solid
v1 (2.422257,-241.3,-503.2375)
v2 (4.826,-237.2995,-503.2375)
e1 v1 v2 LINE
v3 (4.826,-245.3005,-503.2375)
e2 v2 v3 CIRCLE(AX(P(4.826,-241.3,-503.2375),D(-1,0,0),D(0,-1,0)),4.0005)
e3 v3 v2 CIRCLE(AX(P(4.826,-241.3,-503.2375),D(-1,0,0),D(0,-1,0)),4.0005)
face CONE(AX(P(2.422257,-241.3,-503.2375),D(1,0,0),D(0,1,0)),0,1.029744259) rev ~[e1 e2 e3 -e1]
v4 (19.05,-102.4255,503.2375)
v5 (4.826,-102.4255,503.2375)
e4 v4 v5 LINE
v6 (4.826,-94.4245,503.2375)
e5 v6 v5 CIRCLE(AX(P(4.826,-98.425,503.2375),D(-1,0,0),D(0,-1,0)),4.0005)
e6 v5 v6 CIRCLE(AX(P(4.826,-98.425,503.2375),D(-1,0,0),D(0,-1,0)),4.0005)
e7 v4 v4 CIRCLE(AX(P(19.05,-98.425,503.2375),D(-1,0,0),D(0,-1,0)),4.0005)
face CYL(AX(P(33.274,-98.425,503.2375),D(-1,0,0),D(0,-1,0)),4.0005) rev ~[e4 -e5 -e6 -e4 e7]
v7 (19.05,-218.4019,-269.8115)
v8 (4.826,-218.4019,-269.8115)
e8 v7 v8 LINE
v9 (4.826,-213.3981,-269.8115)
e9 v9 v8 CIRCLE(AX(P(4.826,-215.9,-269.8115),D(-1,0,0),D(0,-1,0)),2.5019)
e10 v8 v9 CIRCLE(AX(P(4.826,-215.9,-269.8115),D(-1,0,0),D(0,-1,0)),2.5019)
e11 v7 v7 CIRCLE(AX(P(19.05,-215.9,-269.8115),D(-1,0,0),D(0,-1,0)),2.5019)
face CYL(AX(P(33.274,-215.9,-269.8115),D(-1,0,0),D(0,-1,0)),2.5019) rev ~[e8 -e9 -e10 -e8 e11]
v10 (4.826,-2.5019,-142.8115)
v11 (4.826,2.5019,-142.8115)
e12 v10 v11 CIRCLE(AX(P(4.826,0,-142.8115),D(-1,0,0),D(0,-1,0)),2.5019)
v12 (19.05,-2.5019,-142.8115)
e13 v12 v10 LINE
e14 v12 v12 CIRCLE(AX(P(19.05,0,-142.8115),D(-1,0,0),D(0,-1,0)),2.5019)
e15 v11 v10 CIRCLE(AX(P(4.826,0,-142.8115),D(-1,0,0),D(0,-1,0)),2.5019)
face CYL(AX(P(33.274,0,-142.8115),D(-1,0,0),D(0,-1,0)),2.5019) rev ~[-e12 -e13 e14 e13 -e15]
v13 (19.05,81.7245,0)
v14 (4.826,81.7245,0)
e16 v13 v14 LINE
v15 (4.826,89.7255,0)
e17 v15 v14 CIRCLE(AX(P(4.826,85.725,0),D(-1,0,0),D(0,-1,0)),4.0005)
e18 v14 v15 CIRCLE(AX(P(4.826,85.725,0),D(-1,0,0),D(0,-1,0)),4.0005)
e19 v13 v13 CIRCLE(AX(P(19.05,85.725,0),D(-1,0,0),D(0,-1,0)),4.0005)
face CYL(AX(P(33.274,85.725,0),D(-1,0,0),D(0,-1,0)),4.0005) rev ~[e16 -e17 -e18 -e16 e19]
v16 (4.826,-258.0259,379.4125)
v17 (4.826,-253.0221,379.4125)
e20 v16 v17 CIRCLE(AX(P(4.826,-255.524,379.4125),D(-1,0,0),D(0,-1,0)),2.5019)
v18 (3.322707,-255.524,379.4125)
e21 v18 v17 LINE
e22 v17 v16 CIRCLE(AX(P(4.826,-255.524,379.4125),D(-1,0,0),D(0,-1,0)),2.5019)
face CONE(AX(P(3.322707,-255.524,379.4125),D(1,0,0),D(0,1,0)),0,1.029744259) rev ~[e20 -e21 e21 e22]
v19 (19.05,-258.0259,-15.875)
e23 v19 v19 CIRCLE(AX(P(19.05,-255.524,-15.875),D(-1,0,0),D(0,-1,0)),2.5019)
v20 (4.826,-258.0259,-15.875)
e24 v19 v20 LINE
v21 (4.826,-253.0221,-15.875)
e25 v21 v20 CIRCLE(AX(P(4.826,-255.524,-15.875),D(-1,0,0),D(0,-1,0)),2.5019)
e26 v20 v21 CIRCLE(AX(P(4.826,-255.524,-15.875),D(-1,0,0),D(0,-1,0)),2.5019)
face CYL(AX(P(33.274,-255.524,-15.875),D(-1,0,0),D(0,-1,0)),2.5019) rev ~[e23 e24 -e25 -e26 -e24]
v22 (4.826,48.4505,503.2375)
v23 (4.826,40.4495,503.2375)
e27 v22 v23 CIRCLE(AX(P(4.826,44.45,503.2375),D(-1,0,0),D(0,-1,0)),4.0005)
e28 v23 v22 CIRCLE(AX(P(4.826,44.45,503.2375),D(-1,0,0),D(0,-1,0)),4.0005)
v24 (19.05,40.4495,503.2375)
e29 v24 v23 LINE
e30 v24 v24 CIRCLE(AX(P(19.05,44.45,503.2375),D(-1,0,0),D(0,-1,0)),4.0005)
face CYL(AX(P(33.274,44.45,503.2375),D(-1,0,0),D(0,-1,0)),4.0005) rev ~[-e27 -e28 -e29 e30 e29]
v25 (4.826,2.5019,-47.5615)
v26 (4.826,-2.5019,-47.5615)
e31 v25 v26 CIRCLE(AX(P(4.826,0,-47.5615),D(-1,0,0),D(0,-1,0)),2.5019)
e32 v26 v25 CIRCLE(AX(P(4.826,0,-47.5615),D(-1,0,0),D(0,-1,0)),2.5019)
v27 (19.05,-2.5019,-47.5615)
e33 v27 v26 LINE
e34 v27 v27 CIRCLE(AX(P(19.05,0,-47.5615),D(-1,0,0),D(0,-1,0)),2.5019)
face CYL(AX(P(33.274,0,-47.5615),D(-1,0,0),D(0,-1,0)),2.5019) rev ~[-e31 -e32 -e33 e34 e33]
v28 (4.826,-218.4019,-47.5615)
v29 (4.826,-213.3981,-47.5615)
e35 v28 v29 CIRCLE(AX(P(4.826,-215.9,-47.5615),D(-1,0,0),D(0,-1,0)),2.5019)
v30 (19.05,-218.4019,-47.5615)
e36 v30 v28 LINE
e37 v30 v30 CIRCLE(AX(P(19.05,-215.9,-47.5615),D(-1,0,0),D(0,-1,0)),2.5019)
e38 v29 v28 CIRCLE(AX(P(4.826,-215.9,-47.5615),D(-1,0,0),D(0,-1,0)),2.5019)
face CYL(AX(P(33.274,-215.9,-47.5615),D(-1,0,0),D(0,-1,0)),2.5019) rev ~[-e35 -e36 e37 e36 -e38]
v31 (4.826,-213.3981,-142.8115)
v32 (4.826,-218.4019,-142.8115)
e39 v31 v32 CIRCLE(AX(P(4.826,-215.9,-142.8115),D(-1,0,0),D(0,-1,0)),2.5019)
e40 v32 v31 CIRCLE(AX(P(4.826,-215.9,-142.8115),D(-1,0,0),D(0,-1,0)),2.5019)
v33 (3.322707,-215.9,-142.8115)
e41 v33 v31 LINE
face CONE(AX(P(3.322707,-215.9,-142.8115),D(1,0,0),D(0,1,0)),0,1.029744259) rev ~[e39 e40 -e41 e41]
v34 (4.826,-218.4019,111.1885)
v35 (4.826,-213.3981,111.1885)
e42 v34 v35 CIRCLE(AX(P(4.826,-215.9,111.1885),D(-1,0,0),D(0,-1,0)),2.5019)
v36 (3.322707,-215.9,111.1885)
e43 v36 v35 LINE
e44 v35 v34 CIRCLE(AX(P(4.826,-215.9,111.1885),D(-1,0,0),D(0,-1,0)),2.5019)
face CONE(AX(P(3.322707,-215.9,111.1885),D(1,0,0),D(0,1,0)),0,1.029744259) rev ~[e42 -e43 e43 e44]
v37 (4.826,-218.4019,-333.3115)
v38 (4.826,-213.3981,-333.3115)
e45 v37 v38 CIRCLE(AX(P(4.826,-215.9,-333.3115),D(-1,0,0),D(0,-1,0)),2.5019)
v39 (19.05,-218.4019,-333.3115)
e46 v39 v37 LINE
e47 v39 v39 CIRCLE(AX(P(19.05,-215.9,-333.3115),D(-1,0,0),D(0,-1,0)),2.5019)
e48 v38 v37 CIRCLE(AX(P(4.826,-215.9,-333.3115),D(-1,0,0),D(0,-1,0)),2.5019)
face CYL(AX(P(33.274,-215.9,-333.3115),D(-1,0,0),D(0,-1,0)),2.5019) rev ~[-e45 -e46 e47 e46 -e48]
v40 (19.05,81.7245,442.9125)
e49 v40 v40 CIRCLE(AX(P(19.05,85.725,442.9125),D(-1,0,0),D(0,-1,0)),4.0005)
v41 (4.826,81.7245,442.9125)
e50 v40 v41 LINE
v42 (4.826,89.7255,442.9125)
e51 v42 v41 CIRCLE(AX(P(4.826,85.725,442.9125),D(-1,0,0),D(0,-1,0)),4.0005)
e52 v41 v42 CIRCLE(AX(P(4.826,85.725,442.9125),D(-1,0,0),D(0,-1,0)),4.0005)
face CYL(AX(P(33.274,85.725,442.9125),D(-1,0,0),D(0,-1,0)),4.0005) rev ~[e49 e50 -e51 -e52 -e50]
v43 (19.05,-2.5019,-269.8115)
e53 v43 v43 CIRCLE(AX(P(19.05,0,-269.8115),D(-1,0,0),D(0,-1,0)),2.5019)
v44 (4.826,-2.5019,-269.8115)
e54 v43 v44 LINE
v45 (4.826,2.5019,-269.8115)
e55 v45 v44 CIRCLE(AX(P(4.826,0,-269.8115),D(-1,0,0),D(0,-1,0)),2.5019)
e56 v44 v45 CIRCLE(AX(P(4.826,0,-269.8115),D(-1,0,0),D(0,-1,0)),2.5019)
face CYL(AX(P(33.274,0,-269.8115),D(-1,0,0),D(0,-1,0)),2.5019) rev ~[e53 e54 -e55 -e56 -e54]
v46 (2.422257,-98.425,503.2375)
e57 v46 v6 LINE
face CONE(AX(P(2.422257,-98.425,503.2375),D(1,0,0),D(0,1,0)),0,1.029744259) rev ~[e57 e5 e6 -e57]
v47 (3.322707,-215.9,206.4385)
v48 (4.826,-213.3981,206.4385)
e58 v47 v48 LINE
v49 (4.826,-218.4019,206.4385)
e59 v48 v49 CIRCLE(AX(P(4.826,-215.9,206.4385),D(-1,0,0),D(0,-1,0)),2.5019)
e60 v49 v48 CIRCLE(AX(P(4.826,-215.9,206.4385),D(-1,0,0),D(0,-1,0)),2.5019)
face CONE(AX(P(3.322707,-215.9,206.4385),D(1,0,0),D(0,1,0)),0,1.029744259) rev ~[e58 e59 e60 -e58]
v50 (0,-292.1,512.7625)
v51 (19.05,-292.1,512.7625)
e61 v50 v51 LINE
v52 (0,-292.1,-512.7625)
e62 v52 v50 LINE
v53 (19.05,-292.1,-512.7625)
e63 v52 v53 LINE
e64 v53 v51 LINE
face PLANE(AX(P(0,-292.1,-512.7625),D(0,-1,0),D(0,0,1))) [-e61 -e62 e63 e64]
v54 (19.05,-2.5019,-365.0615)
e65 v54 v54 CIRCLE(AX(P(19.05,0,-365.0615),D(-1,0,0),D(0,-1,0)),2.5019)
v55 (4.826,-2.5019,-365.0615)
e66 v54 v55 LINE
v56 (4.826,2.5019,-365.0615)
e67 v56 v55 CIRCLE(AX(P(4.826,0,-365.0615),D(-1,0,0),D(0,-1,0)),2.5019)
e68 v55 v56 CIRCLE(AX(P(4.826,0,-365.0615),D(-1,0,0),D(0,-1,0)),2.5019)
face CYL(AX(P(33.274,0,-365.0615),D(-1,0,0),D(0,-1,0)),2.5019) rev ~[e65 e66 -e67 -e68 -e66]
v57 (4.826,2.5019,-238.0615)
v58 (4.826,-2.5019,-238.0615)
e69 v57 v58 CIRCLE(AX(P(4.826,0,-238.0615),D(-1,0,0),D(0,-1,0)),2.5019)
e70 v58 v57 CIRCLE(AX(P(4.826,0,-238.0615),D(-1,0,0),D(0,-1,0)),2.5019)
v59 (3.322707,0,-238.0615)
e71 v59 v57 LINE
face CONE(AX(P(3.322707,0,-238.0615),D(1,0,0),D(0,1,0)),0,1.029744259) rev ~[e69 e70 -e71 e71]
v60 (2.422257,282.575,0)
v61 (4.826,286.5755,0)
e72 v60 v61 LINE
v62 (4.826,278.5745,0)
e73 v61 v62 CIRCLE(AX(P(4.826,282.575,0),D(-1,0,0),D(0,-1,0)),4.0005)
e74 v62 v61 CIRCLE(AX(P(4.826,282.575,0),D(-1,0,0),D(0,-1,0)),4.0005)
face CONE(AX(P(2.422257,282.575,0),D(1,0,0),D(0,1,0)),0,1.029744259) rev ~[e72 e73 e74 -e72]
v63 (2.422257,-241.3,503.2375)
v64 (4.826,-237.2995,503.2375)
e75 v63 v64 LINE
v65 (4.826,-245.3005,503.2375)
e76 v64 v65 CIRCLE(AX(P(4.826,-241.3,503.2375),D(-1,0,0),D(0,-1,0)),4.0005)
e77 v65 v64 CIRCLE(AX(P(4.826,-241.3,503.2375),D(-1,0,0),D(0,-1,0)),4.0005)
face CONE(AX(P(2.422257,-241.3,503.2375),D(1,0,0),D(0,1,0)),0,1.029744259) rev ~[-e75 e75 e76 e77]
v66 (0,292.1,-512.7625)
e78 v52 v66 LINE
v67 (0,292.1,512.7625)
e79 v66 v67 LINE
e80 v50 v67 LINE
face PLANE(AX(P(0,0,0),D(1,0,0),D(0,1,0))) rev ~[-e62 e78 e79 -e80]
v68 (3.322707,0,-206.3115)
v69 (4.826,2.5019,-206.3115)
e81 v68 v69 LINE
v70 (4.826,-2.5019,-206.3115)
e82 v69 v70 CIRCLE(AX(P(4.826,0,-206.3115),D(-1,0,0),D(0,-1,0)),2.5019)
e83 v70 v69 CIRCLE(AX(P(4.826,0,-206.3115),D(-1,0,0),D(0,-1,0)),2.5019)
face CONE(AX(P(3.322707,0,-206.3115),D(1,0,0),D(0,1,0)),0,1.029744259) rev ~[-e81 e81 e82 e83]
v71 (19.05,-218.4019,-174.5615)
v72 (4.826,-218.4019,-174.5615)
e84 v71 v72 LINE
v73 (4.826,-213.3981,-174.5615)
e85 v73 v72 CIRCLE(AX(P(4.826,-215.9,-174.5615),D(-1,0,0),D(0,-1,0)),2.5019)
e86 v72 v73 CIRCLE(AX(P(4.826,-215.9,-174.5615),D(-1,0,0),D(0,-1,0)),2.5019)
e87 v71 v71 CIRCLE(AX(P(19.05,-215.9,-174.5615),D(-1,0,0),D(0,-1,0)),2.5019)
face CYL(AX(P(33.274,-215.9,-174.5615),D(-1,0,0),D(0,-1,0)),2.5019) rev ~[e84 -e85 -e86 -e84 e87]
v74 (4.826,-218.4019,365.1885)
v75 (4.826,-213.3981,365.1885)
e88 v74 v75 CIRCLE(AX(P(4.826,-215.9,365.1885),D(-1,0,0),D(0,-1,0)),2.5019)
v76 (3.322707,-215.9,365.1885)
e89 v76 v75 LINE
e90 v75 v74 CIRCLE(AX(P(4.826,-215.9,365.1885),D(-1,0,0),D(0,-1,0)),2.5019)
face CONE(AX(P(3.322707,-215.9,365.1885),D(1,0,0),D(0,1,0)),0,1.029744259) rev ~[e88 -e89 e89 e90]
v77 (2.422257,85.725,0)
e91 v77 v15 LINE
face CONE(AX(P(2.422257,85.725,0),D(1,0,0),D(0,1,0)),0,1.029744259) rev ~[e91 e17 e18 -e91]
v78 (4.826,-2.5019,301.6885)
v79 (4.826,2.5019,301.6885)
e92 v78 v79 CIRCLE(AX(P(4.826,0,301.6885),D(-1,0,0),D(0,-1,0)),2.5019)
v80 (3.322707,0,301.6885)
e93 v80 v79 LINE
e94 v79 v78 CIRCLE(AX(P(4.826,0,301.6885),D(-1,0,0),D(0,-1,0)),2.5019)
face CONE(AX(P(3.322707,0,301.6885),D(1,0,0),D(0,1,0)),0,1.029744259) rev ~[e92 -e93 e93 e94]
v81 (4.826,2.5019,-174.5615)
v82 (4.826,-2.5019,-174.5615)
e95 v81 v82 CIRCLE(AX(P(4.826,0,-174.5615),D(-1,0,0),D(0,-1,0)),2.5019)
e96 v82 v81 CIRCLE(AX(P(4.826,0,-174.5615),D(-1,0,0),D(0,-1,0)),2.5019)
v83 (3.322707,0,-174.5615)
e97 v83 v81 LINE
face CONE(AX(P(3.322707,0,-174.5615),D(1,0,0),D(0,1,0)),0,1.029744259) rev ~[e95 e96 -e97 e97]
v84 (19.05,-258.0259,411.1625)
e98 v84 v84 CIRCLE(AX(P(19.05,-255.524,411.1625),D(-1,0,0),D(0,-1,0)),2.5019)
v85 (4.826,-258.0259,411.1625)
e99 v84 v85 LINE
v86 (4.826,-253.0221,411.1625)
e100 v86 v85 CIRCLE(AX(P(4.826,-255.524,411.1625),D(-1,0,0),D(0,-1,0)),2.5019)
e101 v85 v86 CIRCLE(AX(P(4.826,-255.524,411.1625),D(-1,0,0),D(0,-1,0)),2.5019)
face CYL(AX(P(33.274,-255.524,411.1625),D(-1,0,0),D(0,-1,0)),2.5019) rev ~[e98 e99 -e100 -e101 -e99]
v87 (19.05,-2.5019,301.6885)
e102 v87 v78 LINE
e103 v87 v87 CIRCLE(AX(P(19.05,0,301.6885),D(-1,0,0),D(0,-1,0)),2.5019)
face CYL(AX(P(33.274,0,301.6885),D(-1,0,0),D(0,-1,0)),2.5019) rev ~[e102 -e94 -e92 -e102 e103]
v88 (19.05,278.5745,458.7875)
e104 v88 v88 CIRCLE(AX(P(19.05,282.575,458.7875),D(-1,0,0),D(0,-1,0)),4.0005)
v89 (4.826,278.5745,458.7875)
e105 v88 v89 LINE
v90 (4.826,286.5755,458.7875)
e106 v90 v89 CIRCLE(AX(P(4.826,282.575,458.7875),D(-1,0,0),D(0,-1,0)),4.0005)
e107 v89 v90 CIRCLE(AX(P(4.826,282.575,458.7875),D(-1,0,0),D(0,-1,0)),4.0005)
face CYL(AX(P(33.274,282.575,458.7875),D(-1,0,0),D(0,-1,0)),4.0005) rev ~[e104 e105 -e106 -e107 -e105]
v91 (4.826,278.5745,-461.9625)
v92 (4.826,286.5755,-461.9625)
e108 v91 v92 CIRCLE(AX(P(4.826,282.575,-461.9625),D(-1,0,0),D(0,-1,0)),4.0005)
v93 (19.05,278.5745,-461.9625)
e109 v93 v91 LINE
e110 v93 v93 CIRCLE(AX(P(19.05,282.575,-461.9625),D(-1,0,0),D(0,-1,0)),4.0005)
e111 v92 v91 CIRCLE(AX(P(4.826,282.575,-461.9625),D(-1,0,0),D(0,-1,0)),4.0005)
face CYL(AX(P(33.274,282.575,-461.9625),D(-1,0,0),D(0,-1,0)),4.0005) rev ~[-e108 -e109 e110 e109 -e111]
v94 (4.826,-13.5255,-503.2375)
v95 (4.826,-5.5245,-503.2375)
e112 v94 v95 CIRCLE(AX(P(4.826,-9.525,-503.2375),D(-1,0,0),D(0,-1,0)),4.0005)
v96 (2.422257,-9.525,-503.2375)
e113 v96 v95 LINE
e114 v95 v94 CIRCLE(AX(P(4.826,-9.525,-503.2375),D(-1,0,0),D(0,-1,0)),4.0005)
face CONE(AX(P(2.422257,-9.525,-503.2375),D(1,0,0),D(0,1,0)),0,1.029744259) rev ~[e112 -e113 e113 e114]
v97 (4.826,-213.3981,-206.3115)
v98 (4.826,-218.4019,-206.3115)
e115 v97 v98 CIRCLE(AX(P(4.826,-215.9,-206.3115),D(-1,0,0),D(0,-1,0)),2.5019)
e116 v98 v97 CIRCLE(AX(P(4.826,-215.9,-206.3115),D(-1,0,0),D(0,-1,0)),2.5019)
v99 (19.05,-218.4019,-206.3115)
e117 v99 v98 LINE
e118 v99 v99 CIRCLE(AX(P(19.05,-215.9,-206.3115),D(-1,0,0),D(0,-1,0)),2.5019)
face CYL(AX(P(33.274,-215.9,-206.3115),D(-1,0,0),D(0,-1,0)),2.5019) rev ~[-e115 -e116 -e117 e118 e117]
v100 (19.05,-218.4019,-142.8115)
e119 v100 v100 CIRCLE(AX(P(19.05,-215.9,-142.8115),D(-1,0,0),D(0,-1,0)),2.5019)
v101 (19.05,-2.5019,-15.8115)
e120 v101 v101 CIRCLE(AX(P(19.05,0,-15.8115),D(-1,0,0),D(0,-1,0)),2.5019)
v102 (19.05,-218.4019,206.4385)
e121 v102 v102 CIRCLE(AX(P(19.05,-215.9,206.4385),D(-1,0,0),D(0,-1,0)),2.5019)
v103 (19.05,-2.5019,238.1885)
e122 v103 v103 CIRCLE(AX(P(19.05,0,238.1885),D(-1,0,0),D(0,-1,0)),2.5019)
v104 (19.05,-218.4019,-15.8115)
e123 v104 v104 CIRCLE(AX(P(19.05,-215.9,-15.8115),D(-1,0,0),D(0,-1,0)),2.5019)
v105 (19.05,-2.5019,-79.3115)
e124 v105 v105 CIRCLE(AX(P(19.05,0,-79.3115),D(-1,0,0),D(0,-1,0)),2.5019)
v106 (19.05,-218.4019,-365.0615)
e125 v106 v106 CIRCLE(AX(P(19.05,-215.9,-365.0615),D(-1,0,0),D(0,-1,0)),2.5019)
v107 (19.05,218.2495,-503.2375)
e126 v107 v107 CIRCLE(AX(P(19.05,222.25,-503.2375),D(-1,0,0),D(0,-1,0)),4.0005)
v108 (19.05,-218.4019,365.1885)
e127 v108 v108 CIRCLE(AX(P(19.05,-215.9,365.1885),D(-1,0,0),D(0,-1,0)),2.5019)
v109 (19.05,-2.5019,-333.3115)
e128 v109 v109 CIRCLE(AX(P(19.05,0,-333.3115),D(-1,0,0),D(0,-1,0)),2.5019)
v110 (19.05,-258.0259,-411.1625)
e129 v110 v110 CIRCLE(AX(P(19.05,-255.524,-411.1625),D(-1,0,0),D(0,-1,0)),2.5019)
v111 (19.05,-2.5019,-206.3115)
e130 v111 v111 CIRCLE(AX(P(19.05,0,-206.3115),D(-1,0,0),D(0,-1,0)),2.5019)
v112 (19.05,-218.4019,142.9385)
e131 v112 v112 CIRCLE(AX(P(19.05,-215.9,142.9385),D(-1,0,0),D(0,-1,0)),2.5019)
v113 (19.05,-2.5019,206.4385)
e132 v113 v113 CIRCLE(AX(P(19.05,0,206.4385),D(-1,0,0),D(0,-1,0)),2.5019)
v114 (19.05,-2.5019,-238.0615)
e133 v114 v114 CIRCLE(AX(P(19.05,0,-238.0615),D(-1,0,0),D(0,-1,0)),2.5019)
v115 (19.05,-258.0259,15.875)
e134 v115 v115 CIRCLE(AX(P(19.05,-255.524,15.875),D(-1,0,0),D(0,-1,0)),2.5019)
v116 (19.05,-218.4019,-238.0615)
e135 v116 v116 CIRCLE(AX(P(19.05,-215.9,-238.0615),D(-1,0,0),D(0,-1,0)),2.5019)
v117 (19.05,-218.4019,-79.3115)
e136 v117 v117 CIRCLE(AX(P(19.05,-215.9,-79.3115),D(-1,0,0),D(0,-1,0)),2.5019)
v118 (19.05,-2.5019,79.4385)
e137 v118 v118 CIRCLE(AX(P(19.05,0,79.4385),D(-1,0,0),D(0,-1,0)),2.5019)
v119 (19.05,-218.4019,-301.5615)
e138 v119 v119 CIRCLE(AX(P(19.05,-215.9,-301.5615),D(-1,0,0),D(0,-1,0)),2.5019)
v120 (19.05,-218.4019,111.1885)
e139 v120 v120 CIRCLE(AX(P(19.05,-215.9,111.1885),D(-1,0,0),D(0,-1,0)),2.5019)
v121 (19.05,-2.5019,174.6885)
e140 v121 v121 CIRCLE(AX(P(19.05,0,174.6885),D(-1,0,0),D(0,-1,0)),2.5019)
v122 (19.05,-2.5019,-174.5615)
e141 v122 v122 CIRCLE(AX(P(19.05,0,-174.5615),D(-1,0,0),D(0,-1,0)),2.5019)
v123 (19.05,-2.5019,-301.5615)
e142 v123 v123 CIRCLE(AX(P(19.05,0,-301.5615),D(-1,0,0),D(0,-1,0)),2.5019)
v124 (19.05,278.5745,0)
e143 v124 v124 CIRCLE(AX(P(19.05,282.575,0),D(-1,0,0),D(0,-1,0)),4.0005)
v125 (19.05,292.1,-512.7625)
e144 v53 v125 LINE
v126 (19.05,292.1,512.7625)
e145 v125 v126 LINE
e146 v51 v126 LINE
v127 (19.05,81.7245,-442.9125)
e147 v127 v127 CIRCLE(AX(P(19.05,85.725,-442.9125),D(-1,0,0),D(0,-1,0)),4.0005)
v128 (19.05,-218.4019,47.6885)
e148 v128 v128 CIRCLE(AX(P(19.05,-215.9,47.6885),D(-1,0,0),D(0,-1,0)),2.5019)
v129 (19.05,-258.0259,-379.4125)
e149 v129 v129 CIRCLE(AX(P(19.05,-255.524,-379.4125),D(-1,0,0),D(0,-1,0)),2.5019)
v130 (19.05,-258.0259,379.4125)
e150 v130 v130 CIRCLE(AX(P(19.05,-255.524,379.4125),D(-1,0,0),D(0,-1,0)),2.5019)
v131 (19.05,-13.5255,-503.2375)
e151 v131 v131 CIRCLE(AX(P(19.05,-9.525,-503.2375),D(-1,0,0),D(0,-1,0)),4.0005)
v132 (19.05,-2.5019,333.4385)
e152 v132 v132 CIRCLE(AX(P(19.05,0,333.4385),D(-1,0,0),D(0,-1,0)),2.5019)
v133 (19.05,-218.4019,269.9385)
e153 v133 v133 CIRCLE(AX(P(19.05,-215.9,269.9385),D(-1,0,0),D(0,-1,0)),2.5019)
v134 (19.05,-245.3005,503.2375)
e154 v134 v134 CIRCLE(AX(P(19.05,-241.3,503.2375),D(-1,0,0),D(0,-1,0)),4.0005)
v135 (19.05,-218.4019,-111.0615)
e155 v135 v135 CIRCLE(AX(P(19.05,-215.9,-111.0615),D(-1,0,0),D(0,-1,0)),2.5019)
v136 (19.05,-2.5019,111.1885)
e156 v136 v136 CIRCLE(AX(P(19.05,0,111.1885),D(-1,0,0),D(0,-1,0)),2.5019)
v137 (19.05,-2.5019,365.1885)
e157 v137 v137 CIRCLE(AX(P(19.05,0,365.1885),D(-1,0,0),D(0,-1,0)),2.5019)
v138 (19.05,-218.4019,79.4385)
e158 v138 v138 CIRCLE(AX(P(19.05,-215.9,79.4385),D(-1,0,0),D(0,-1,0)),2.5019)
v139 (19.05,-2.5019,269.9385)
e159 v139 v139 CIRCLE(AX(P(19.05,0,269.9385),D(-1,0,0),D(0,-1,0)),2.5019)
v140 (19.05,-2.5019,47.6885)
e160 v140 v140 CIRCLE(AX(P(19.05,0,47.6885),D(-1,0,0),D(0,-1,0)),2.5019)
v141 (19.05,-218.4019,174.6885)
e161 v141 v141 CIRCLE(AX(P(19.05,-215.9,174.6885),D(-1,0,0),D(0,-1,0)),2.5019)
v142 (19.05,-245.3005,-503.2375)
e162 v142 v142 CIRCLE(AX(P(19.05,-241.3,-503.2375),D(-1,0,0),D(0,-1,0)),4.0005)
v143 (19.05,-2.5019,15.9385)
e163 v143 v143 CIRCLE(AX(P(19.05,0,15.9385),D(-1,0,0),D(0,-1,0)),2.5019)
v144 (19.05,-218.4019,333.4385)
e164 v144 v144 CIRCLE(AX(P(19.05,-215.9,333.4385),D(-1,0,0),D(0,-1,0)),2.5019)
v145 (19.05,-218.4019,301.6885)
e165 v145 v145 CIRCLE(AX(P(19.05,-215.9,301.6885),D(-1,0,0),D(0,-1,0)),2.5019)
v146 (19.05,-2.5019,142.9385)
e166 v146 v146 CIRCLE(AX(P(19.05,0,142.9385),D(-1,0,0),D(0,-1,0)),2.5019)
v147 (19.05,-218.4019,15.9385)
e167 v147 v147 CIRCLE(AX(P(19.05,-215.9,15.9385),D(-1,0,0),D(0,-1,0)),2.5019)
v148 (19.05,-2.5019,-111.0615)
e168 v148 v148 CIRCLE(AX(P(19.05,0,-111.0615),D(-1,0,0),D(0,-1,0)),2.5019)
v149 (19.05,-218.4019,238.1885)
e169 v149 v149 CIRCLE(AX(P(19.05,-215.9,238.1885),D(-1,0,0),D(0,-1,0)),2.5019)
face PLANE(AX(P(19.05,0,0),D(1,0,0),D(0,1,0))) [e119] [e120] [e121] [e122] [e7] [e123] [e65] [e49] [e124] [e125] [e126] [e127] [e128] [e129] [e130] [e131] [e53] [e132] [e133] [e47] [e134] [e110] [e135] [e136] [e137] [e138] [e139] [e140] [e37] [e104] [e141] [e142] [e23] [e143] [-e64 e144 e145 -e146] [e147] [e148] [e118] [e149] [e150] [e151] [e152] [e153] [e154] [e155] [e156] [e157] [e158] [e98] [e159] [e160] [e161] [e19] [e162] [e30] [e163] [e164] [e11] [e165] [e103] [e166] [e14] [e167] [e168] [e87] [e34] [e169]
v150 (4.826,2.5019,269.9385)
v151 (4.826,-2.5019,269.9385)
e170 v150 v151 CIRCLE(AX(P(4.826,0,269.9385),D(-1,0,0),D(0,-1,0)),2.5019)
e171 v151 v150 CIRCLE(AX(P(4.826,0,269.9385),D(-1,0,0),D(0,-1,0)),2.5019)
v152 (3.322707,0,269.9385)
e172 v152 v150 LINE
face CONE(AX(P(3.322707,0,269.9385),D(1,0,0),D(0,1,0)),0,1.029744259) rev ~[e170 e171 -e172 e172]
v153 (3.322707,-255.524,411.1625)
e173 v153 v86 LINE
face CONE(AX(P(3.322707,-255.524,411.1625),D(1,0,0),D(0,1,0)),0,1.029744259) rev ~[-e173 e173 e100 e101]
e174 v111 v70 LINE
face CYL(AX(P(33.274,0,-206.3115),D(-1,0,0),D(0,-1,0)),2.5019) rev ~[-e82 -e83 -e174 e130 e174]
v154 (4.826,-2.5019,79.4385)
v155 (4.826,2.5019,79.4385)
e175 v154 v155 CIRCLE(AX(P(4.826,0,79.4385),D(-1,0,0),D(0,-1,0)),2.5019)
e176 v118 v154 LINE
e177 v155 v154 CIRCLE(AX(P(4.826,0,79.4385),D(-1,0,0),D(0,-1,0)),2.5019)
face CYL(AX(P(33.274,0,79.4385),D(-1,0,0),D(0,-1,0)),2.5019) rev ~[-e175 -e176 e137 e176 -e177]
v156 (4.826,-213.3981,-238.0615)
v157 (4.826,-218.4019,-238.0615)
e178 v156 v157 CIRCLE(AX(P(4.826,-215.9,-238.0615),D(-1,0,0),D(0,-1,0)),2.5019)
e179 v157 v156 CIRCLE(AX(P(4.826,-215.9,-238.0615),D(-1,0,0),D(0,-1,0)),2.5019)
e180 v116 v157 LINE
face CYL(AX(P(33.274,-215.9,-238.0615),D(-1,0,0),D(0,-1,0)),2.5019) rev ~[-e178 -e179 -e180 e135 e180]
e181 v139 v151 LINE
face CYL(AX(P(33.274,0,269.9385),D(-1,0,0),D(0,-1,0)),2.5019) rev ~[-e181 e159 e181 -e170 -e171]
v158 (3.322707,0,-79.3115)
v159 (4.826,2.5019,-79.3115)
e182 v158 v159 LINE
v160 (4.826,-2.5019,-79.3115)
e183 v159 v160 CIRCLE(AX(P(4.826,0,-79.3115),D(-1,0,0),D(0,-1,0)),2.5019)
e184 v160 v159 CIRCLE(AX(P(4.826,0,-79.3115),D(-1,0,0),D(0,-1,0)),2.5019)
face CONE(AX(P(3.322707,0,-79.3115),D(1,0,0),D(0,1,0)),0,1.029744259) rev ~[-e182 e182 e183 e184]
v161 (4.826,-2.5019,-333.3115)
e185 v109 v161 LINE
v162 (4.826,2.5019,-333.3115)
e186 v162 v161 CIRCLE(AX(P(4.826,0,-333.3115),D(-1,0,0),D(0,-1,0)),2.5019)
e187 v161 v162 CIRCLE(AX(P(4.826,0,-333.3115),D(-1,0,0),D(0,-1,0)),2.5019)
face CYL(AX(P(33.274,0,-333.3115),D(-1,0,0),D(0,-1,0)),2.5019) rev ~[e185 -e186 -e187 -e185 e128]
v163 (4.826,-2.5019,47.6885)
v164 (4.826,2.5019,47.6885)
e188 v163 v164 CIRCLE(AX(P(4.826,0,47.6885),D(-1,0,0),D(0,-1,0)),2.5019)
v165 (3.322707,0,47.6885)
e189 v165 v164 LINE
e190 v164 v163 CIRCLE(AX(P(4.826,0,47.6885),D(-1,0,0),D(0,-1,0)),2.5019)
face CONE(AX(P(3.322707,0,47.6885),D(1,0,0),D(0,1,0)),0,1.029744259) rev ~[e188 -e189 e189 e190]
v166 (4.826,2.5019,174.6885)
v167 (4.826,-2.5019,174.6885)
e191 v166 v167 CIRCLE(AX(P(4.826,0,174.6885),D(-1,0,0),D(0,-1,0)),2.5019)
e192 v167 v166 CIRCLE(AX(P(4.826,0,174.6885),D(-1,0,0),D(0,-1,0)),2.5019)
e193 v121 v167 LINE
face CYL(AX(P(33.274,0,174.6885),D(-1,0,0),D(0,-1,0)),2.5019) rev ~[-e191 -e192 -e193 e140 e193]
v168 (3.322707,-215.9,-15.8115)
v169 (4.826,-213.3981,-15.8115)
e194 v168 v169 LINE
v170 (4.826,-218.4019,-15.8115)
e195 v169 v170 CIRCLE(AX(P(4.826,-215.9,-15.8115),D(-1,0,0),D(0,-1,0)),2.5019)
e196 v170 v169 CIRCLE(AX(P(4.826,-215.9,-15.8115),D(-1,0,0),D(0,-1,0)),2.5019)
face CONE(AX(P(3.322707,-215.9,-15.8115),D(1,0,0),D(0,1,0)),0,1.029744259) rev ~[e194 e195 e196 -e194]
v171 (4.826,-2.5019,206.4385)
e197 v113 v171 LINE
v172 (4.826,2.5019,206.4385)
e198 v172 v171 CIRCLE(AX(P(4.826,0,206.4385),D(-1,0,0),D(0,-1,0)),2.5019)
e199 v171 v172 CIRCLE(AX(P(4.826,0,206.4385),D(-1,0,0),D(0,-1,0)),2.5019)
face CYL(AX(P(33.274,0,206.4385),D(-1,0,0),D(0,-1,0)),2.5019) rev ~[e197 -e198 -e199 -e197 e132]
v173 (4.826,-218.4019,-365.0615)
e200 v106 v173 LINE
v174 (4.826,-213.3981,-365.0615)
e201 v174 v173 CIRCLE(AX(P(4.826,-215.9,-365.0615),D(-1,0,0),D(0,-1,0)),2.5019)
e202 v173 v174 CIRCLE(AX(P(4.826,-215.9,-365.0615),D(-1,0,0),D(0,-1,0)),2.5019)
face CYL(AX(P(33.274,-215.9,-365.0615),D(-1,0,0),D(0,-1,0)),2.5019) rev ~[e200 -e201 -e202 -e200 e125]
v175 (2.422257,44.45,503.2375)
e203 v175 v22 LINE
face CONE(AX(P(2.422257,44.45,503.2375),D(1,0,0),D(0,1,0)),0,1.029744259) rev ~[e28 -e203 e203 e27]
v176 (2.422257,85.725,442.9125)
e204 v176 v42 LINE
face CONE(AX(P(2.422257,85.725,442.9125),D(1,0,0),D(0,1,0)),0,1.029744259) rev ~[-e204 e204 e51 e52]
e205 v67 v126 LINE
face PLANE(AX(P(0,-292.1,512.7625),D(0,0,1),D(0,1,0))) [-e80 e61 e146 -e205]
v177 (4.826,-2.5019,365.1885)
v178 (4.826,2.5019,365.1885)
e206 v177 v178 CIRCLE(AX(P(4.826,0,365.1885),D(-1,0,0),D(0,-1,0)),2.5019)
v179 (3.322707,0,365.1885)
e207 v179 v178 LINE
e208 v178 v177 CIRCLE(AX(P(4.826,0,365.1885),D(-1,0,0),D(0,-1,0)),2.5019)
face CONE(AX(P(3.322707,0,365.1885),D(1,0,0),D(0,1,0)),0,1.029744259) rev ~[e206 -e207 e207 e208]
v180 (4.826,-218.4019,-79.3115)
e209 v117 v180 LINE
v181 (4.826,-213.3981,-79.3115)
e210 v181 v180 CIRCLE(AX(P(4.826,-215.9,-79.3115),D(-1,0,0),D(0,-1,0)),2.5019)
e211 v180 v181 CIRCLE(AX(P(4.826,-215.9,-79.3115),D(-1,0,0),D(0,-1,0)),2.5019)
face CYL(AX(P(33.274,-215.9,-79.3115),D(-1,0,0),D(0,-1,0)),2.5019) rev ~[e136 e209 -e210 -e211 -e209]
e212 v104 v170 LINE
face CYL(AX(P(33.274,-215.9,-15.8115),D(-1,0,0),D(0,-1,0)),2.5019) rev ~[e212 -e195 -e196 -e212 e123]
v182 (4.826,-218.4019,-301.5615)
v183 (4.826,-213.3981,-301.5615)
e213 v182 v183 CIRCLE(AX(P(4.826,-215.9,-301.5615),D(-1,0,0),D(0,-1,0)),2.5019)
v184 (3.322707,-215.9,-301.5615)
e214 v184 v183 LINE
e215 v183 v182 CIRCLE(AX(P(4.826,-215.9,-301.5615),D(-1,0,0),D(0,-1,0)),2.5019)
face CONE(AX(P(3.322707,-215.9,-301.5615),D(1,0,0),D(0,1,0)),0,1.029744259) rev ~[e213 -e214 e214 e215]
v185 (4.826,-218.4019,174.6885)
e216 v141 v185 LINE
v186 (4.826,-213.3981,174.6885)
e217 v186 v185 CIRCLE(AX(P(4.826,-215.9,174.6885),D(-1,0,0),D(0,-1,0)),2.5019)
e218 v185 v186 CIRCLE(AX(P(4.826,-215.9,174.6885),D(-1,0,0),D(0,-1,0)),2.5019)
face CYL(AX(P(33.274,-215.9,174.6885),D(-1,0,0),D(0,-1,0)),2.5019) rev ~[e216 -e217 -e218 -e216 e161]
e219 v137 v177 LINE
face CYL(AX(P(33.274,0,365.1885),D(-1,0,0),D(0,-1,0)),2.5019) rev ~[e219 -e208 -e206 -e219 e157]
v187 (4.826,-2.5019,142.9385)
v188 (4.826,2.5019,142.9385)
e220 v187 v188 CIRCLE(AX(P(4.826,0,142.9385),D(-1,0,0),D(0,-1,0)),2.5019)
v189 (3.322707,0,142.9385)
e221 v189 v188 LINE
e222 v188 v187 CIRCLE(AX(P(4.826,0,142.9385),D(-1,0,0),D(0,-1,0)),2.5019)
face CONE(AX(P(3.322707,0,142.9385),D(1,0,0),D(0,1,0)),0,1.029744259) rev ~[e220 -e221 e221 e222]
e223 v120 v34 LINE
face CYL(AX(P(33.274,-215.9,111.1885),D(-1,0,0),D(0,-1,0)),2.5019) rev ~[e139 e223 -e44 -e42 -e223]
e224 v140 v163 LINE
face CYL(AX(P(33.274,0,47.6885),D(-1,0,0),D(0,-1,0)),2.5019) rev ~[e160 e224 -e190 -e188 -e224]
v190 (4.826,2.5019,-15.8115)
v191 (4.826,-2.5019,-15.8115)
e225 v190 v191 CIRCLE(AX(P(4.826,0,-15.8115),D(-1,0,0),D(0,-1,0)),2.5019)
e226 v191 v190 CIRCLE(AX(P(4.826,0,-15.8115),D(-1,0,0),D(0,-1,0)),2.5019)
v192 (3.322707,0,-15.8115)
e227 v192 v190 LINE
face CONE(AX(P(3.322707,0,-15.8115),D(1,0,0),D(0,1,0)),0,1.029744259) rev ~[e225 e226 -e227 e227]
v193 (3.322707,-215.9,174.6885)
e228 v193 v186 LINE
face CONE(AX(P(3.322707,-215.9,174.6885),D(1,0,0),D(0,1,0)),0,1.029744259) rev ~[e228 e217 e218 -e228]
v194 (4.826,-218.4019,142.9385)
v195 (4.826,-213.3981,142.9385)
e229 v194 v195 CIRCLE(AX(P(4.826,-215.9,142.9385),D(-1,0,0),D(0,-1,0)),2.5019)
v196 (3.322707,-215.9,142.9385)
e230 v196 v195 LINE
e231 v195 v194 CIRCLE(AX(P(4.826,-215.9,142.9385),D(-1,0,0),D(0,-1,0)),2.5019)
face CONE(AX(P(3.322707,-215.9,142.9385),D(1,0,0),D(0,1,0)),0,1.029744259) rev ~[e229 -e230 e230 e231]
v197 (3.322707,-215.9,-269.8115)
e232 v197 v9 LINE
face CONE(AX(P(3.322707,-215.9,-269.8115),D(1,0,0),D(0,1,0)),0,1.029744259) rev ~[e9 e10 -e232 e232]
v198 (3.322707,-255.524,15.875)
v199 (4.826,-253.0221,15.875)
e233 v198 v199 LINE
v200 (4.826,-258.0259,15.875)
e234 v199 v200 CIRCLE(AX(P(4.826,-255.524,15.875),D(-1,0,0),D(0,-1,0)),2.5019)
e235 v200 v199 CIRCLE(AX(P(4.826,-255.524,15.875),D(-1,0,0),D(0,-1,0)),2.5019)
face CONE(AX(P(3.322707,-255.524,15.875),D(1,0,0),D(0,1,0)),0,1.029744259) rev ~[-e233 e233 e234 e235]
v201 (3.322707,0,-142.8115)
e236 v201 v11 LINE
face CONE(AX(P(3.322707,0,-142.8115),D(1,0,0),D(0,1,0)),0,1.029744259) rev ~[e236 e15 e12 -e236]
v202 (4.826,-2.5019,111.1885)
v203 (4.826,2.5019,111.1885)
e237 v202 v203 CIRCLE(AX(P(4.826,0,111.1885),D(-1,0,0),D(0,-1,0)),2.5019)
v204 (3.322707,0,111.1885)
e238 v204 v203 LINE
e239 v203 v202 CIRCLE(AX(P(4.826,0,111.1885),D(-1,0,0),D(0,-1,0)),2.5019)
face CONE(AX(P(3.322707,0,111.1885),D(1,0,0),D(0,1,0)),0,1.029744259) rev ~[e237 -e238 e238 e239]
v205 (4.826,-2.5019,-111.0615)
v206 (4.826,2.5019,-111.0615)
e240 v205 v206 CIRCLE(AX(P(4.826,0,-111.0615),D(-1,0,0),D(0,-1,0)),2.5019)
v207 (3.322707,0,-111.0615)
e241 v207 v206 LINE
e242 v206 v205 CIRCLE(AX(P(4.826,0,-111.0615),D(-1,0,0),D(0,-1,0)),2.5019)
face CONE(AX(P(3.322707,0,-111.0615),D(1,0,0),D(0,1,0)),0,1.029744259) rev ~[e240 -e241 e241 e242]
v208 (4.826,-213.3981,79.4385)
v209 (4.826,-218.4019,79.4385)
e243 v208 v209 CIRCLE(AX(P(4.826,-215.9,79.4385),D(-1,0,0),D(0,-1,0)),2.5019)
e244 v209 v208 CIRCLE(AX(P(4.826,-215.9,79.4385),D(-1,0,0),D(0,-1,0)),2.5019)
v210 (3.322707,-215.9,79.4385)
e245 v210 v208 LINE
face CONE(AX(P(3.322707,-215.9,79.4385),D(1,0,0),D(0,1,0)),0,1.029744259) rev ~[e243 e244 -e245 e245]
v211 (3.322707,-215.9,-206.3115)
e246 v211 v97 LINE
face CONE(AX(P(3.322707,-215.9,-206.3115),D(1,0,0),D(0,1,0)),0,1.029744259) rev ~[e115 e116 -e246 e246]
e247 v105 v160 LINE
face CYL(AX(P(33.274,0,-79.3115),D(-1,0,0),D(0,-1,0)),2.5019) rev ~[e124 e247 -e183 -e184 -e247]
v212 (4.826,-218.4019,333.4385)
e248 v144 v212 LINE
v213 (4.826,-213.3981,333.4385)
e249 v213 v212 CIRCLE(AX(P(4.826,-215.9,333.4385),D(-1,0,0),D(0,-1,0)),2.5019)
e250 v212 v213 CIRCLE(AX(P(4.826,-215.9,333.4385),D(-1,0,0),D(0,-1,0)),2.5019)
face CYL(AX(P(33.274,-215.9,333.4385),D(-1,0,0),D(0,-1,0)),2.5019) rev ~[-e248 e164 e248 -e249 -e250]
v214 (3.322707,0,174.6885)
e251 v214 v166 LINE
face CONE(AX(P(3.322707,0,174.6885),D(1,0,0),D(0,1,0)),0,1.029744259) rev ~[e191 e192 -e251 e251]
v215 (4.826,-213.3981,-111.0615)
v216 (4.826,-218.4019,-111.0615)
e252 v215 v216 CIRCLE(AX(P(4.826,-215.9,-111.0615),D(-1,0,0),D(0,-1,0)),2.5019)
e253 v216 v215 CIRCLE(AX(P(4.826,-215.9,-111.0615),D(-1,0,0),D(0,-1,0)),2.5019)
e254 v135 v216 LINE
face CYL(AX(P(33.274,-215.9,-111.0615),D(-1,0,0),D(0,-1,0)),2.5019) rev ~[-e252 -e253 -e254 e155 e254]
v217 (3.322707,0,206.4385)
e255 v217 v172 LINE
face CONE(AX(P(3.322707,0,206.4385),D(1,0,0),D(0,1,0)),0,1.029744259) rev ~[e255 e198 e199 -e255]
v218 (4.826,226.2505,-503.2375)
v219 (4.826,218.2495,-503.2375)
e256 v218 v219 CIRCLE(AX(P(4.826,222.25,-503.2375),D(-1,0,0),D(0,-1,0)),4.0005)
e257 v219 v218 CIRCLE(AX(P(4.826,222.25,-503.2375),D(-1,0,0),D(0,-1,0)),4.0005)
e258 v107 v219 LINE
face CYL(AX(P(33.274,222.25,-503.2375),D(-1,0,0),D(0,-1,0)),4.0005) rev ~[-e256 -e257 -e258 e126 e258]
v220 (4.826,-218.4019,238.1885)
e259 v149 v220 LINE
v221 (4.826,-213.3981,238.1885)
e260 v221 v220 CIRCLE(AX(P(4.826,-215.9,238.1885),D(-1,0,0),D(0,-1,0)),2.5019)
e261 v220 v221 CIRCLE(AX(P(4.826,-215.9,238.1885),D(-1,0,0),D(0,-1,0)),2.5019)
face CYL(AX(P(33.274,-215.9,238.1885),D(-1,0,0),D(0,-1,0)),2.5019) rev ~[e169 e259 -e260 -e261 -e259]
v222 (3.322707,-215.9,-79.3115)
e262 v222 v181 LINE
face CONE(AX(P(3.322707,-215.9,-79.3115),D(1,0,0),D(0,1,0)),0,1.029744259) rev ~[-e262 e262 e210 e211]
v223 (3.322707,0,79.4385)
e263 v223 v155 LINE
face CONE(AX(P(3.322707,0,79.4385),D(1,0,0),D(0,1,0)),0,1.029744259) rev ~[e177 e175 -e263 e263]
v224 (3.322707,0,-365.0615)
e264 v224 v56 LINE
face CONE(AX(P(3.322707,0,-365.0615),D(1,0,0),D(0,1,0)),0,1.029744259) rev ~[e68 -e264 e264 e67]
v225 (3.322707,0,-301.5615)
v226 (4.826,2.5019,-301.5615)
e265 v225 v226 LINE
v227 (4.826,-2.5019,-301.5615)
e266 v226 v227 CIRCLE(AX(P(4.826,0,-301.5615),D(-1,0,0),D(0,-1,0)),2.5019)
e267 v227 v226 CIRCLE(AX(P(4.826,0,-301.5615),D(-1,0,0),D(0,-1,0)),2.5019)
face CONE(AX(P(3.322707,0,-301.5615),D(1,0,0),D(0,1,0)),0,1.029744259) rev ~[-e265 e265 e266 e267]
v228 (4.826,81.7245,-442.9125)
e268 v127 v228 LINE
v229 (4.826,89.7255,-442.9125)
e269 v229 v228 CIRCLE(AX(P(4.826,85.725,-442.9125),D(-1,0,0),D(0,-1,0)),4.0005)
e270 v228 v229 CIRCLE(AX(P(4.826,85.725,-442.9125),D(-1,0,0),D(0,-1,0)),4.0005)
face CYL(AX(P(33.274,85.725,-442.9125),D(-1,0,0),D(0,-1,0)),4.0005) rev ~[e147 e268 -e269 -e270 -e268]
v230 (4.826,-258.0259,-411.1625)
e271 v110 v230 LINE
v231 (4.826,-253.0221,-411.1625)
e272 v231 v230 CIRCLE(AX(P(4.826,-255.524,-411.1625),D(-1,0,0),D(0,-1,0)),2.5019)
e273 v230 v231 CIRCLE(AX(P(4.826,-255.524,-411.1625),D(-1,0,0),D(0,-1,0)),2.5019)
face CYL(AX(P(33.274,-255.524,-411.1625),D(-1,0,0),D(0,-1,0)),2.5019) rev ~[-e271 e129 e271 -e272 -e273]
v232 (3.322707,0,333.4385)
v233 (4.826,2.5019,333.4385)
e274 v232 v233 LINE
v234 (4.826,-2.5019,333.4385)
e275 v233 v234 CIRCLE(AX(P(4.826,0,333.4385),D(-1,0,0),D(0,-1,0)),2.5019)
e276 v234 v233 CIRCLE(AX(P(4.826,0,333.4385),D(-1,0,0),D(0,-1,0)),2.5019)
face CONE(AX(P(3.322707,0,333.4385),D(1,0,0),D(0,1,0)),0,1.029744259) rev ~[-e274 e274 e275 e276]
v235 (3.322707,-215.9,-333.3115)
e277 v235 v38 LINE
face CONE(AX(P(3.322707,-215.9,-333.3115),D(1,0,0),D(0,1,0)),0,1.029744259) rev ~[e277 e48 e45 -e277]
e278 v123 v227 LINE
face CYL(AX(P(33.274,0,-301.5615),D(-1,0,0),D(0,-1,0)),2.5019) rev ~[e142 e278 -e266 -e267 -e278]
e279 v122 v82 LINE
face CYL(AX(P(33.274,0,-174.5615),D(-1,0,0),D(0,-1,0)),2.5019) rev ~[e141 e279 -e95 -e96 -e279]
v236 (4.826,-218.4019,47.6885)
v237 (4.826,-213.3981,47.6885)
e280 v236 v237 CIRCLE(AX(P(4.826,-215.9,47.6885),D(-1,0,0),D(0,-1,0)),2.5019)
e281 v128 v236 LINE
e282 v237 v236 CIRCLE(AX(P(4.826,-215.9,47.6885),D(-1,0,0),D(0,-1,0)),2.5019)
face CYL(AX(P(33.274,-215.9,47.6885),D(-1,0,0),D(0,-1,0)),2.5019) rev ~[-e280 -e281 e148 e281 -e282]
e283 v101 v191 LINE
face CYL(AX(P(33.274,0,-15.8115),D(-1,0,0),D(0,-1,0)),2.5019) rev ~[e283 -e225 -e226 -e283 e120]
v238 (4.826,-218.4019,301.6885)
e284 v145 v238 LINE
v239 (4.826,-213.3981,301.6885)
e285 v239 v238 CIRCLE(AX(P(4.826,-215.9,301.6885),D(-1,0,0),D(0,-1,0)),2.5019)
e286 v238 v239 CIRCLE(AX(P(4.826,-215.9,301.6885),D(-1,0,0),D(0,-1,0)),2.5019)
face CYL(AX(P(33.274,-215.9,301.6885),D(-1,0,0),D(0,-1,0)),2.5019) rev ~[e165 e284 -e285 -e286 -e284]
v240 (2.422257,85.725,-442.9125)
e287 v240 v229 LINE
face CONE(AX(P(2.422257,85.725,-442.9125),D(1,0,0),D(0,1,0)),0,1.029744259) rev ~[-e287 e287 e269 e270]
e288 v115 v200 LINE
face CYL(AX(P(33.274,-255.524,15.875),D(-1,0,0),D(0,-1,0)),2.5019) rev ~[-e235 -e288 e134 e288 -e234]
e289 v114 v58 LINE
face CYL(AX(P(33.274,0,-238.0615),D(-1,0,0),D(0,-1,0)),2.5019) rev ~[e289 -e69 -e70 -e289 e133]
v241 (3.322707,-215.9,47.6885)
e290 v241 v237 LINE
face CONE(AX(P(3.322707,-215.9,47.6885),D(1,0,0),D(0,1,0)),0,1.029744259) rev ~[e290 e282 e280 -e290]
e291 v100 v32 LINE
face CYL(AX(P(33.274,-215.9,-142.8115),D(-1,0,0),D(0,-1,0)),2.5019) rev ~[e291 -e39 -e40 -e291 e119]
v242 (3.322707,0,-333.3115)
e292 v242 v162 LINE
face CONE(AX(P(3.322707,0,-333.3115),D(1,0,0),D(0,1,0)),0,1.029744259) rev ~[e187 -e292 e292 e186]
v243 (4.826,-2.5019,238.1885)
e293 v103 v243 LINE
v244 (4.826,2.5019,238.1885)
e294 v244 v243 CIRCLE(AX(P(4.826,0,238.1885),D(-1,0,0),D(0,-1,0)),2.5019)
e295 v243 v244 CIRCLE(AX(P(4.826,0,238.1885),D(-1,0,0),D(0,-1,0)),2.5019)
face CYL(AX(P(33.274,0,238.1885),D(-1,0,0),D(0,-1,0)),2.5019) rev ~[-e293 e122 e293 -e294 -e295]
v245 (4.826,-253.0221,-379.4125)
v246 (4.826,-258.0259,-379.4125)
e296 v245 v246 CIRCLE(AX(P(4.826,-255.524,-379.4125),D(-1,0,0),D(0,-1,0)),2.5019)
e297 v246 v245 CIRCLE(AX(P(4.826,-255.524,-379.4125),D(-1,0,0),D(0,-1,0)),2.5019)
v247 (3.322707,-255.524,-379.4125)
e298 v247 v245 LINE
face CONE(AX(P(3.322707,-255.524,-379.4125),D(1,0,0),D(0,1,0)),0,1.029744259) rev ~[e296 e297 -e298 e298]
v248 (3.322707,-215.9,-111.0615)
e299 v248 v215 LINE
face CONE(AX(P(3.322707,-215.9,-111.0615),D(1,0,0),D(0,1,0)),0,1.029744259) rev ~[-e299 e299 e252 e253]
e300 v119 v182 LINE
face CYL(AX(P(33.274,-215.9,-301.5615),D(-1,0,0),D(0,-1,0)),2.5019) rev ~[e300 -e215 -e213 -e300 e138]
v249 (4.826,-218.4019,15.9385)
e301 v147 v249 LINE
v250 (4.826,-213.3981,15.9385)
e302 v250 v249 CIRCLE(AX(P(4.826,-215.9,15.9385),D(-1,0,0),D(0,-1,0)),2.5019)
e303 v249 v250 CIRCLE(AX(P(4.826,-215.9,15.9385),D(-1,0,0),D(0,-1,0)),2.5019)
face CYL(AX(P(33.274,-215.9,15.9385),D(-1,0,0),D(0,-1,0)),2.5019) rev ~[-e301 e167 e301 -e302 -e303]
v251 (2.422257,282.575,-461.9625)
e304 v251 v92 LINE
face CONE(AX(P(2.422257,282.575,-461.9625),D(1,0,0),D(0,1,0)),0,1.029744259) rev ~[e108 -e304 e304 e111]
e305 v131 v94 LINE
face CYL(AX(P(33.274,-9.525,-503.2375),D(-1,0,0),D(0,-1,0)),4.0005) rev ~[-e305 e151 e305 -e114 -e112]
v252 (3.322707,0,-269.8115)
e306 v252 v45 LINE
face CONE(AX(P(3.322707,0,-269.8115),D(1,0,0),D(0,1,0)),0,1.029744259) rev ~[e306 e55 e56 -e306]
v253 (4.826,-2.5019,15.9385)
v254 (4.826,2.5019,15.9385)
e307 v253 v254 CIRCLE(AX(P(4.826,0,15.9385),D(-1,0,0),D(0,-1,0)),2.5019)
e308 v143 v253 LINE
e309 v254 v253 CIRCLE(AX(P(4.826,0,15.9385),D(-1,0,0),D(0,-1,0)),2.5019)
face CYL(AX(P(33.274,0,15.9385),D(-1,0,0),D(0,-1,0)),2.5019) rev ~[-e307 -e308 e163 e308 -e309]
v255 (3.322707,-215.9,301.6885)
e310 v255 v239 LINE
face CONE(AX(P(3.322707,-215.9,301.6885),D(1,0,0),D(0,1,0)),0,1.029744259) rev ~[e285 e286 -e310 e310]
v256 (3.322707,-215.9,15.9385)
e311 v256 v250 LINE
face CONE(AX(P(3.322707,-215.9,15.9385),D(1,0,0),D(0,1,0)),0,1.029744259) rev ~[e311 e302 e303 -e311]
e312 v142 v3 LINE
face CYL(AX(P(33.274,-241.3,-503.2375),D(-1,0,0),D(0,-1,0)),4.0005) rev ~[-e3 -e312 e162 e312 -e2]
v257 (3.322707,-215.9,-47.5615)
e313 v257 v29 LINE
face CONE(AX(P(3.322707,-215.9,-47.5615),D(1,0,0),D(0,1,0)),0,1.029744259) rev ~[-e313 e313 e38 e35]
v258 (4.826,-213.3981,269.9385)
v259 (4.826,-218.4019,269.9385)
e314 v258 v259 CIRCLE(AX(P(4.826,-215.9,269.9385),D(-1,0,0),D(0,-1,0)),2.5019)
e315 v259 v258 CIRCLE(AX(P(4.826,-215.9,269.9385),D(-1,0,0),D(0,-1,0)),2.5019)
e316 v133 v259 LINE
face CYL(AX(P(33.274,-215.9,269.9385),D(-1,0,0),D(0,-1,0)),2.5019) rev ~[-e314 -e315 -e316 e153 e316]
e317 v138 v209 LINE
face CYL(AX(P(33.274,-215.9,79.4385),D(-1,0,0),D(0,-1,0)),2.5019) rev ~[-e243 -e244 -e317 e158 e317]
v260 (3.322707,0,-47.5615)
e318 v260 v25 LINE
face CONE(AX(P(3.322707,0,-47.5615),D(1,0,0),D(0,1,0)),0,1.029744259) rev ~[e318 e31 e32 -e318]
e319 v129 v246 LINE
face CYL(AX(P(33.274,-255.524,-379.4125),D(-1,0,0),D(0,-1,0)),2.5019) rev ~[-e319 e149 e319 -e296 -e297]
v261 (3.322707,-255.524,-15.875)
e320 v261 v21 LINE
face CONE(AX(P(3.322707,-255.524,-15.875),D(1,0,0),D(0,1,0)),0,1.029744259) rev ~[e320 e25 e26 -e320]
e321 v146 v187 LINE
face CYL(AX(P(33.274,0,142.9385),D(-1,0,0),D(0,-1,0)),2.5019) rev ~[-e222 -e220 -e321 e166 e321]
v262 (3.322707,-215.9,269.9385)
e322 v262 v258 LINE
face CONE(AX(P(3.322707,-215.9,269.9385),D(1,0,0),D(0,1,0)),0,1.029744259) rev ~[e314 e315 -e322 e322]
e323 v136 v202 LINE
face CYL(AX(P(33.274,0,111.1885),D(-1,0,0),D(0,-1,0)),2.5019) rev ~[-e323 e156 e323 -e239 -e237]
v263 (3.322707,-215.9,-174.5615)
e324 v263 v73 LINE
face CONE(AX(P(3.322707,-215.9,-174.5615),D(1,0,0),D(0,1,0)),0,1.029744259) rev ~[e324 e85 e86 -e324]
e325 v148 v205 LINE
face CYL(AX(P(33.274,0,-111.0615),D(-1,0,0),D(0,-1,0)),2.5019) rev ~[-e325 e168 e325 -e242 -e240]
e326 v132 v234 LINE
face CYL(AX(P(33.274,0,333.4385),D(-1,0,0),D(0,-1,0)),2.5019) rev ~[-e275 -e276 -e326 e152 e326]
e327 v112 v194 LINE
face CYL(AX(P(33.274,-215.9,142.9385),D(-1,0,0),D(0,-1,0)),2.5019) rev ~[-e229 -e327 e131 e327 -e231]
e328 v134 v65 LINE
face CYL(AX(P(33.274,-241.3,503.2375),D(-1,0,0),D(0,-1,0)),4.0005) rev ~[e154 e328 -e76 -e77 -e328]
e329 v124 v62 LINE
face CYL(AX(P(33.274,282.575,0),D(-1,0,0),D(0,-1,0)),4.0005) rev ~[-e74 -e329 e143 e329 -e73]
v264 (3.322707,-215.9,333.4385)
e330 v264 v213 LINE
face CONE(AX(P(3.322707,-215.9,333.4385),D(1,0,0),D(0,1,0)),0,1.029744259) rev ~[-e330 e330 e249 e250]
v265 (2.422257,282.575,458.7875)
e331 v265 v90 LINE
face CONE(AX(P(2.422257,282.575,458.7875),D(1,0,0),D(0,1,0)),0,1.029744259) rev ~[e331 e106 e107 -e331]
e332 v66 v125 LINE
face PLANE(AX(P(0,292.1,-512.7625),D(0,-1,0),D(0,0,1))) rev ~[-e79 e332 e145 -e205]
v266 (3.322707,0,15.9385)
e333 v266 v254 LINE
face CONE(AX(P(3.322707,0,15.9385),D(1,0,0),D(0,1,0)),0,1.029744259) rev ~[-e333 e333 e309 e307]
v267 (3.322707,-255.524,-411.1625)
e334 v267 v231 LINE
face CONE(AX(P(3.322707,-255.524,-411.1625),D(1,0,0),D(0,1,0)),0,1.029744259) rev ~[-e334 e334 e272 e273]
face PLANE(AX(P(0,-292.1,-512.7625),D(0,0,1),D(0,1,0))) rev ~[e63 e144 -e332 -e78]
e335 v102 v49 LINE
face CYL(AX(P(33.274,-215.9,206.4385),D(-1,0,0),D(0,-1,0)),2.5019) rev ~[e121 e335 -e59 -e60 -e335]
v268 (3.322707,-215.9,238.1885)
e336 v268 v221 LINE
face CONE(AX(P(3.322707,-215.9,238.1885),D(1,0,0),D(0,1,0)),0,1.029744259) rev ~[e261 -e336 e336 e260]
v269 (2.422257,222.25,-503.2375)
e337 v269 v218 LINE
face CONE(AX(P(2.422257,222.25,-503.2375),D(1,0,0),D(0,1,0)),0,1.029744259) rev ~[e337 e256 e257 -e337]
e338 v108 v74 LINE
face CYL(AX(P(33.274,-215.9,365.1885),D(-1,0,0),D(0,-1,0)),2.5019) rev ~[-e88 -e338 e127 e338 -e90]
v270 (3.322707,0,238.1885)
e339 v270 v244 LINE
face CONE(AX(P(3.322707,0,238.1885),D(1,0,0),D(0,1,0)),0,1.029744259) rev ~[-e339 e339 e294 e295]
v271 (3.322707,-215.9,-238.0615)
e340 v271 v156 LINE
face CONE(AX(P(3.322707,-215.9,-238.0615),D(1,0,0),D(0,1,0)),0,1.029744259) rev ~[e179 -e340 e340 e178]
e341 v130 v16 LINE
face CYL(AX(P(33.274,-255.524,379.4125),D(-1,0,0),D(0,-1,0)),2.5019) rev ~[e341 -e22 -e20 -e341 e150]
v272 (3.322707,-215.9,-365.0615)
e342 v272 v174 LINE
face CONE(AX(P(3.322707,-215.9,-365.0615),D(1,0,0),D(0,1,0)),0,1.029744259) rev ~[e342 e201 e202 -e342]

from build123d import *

# Parameters (mm, degrees)
F0_W     = 584.2
F0_H     = 1025.525
F1_DEPTH = 19.05
F3_D     = 8.001
F3_DEPTH = 14.224
F3_TIP   = 2.4037429064
F5_D     = 5.0038
F5_DEPTH = 14.224
F5_TIP   = 1.5032931827


with BuildPart() as f1:
    # F0 (on Right) → F1 (new body)
    with BuildSketch(Plane.YZ):
        Rectangle(F0_W, F0_H)
    extrude(amount=F1_DEPTH)

    # F3
    with Locations(Plane.YZ.offset(19.05)):
        with Locations((-241.3, 503.2375), (-98.425, 503.2375), (44.45, 503.2375), (85.725, 442.9125), (282.575, 458.7875), (282.575, 0), (85.725, 0), (282.575, -461.9625), (222.25, -503.2375), (85.725, -442.9125), (-9.525, -503.2375), (-241.3, -503.2375)):
            Hole(F3_D / 2, depth=F3_DEPTH)
            with Locations((0, 0, -(F3_DEPTH + F3_TIP / 2))):  # 118° drill point
                Cone(0, F3_D / 2, F3_TIP, mode=Mode.SUBTRACT)

    # F5
    with Locations(Plane.YZ.offset(19.05)):
        with Locations((-255.524, 411.1625), (-255.524, 379.4125), (-255.524, 15.875), (-255.524, -15.875), (-255.524, -379.4125), (-255.524, -411.1625), (-215.9, 365.1885), (-215.9, 301.6885), (-215.9, 269.9385), (-215.9, 206.4385), (-215.9, 174.6885), (-215.9, 111.1885), (-215.9, 79.4385), (-215.9, 47.6885), (-215.9, 15.9385), (-215.9, -15.8115), (-215.9, -47.5615), (-215.9, -79.3115), (-215.9, -111.0615), (-215.9, -142.8115), (-215.9, -174.5615), (-215.9, -206.3115), (-215.9, -238.0615), (-215.9, -269.8115), (-215.9, -333.3115), (-215.9, -365.0615), (-215.9, -301.5615), (0, -365.0615), (0, -301.5615), (0, -269.8115), (0, -206.3115), (0, -174.5615), (0, -142.8115), (0, -111.0615), (0, -79.3115), (0, -15.8115), (0, 15.9385), (0, 79.4385), (0, 111.1885), (0, 174.6885), (0, 206.4385), (0, 269.9385), (0, 301.6885), (0, 365.1885), (-215.9, 333.4385), (0, 333.4385), (0, 238.1885), (-215.9, 238.1885), (-215.9, 142.9385), (0, 142.9385), (0, 47.6885), (0, -47.5615), (0, -238.0615), (0, -333.3115)):
            Hole(F5_D / 2, depth=F5_DEPTH)
            with Locations((0, 0, -(F5_DEPTH + F5_TIP / 2))):  # 118° drill point
                Cone(0, F5_D / 2, F5_TIP, mode=Mode.SUBTRACT)


solid = f1.part
